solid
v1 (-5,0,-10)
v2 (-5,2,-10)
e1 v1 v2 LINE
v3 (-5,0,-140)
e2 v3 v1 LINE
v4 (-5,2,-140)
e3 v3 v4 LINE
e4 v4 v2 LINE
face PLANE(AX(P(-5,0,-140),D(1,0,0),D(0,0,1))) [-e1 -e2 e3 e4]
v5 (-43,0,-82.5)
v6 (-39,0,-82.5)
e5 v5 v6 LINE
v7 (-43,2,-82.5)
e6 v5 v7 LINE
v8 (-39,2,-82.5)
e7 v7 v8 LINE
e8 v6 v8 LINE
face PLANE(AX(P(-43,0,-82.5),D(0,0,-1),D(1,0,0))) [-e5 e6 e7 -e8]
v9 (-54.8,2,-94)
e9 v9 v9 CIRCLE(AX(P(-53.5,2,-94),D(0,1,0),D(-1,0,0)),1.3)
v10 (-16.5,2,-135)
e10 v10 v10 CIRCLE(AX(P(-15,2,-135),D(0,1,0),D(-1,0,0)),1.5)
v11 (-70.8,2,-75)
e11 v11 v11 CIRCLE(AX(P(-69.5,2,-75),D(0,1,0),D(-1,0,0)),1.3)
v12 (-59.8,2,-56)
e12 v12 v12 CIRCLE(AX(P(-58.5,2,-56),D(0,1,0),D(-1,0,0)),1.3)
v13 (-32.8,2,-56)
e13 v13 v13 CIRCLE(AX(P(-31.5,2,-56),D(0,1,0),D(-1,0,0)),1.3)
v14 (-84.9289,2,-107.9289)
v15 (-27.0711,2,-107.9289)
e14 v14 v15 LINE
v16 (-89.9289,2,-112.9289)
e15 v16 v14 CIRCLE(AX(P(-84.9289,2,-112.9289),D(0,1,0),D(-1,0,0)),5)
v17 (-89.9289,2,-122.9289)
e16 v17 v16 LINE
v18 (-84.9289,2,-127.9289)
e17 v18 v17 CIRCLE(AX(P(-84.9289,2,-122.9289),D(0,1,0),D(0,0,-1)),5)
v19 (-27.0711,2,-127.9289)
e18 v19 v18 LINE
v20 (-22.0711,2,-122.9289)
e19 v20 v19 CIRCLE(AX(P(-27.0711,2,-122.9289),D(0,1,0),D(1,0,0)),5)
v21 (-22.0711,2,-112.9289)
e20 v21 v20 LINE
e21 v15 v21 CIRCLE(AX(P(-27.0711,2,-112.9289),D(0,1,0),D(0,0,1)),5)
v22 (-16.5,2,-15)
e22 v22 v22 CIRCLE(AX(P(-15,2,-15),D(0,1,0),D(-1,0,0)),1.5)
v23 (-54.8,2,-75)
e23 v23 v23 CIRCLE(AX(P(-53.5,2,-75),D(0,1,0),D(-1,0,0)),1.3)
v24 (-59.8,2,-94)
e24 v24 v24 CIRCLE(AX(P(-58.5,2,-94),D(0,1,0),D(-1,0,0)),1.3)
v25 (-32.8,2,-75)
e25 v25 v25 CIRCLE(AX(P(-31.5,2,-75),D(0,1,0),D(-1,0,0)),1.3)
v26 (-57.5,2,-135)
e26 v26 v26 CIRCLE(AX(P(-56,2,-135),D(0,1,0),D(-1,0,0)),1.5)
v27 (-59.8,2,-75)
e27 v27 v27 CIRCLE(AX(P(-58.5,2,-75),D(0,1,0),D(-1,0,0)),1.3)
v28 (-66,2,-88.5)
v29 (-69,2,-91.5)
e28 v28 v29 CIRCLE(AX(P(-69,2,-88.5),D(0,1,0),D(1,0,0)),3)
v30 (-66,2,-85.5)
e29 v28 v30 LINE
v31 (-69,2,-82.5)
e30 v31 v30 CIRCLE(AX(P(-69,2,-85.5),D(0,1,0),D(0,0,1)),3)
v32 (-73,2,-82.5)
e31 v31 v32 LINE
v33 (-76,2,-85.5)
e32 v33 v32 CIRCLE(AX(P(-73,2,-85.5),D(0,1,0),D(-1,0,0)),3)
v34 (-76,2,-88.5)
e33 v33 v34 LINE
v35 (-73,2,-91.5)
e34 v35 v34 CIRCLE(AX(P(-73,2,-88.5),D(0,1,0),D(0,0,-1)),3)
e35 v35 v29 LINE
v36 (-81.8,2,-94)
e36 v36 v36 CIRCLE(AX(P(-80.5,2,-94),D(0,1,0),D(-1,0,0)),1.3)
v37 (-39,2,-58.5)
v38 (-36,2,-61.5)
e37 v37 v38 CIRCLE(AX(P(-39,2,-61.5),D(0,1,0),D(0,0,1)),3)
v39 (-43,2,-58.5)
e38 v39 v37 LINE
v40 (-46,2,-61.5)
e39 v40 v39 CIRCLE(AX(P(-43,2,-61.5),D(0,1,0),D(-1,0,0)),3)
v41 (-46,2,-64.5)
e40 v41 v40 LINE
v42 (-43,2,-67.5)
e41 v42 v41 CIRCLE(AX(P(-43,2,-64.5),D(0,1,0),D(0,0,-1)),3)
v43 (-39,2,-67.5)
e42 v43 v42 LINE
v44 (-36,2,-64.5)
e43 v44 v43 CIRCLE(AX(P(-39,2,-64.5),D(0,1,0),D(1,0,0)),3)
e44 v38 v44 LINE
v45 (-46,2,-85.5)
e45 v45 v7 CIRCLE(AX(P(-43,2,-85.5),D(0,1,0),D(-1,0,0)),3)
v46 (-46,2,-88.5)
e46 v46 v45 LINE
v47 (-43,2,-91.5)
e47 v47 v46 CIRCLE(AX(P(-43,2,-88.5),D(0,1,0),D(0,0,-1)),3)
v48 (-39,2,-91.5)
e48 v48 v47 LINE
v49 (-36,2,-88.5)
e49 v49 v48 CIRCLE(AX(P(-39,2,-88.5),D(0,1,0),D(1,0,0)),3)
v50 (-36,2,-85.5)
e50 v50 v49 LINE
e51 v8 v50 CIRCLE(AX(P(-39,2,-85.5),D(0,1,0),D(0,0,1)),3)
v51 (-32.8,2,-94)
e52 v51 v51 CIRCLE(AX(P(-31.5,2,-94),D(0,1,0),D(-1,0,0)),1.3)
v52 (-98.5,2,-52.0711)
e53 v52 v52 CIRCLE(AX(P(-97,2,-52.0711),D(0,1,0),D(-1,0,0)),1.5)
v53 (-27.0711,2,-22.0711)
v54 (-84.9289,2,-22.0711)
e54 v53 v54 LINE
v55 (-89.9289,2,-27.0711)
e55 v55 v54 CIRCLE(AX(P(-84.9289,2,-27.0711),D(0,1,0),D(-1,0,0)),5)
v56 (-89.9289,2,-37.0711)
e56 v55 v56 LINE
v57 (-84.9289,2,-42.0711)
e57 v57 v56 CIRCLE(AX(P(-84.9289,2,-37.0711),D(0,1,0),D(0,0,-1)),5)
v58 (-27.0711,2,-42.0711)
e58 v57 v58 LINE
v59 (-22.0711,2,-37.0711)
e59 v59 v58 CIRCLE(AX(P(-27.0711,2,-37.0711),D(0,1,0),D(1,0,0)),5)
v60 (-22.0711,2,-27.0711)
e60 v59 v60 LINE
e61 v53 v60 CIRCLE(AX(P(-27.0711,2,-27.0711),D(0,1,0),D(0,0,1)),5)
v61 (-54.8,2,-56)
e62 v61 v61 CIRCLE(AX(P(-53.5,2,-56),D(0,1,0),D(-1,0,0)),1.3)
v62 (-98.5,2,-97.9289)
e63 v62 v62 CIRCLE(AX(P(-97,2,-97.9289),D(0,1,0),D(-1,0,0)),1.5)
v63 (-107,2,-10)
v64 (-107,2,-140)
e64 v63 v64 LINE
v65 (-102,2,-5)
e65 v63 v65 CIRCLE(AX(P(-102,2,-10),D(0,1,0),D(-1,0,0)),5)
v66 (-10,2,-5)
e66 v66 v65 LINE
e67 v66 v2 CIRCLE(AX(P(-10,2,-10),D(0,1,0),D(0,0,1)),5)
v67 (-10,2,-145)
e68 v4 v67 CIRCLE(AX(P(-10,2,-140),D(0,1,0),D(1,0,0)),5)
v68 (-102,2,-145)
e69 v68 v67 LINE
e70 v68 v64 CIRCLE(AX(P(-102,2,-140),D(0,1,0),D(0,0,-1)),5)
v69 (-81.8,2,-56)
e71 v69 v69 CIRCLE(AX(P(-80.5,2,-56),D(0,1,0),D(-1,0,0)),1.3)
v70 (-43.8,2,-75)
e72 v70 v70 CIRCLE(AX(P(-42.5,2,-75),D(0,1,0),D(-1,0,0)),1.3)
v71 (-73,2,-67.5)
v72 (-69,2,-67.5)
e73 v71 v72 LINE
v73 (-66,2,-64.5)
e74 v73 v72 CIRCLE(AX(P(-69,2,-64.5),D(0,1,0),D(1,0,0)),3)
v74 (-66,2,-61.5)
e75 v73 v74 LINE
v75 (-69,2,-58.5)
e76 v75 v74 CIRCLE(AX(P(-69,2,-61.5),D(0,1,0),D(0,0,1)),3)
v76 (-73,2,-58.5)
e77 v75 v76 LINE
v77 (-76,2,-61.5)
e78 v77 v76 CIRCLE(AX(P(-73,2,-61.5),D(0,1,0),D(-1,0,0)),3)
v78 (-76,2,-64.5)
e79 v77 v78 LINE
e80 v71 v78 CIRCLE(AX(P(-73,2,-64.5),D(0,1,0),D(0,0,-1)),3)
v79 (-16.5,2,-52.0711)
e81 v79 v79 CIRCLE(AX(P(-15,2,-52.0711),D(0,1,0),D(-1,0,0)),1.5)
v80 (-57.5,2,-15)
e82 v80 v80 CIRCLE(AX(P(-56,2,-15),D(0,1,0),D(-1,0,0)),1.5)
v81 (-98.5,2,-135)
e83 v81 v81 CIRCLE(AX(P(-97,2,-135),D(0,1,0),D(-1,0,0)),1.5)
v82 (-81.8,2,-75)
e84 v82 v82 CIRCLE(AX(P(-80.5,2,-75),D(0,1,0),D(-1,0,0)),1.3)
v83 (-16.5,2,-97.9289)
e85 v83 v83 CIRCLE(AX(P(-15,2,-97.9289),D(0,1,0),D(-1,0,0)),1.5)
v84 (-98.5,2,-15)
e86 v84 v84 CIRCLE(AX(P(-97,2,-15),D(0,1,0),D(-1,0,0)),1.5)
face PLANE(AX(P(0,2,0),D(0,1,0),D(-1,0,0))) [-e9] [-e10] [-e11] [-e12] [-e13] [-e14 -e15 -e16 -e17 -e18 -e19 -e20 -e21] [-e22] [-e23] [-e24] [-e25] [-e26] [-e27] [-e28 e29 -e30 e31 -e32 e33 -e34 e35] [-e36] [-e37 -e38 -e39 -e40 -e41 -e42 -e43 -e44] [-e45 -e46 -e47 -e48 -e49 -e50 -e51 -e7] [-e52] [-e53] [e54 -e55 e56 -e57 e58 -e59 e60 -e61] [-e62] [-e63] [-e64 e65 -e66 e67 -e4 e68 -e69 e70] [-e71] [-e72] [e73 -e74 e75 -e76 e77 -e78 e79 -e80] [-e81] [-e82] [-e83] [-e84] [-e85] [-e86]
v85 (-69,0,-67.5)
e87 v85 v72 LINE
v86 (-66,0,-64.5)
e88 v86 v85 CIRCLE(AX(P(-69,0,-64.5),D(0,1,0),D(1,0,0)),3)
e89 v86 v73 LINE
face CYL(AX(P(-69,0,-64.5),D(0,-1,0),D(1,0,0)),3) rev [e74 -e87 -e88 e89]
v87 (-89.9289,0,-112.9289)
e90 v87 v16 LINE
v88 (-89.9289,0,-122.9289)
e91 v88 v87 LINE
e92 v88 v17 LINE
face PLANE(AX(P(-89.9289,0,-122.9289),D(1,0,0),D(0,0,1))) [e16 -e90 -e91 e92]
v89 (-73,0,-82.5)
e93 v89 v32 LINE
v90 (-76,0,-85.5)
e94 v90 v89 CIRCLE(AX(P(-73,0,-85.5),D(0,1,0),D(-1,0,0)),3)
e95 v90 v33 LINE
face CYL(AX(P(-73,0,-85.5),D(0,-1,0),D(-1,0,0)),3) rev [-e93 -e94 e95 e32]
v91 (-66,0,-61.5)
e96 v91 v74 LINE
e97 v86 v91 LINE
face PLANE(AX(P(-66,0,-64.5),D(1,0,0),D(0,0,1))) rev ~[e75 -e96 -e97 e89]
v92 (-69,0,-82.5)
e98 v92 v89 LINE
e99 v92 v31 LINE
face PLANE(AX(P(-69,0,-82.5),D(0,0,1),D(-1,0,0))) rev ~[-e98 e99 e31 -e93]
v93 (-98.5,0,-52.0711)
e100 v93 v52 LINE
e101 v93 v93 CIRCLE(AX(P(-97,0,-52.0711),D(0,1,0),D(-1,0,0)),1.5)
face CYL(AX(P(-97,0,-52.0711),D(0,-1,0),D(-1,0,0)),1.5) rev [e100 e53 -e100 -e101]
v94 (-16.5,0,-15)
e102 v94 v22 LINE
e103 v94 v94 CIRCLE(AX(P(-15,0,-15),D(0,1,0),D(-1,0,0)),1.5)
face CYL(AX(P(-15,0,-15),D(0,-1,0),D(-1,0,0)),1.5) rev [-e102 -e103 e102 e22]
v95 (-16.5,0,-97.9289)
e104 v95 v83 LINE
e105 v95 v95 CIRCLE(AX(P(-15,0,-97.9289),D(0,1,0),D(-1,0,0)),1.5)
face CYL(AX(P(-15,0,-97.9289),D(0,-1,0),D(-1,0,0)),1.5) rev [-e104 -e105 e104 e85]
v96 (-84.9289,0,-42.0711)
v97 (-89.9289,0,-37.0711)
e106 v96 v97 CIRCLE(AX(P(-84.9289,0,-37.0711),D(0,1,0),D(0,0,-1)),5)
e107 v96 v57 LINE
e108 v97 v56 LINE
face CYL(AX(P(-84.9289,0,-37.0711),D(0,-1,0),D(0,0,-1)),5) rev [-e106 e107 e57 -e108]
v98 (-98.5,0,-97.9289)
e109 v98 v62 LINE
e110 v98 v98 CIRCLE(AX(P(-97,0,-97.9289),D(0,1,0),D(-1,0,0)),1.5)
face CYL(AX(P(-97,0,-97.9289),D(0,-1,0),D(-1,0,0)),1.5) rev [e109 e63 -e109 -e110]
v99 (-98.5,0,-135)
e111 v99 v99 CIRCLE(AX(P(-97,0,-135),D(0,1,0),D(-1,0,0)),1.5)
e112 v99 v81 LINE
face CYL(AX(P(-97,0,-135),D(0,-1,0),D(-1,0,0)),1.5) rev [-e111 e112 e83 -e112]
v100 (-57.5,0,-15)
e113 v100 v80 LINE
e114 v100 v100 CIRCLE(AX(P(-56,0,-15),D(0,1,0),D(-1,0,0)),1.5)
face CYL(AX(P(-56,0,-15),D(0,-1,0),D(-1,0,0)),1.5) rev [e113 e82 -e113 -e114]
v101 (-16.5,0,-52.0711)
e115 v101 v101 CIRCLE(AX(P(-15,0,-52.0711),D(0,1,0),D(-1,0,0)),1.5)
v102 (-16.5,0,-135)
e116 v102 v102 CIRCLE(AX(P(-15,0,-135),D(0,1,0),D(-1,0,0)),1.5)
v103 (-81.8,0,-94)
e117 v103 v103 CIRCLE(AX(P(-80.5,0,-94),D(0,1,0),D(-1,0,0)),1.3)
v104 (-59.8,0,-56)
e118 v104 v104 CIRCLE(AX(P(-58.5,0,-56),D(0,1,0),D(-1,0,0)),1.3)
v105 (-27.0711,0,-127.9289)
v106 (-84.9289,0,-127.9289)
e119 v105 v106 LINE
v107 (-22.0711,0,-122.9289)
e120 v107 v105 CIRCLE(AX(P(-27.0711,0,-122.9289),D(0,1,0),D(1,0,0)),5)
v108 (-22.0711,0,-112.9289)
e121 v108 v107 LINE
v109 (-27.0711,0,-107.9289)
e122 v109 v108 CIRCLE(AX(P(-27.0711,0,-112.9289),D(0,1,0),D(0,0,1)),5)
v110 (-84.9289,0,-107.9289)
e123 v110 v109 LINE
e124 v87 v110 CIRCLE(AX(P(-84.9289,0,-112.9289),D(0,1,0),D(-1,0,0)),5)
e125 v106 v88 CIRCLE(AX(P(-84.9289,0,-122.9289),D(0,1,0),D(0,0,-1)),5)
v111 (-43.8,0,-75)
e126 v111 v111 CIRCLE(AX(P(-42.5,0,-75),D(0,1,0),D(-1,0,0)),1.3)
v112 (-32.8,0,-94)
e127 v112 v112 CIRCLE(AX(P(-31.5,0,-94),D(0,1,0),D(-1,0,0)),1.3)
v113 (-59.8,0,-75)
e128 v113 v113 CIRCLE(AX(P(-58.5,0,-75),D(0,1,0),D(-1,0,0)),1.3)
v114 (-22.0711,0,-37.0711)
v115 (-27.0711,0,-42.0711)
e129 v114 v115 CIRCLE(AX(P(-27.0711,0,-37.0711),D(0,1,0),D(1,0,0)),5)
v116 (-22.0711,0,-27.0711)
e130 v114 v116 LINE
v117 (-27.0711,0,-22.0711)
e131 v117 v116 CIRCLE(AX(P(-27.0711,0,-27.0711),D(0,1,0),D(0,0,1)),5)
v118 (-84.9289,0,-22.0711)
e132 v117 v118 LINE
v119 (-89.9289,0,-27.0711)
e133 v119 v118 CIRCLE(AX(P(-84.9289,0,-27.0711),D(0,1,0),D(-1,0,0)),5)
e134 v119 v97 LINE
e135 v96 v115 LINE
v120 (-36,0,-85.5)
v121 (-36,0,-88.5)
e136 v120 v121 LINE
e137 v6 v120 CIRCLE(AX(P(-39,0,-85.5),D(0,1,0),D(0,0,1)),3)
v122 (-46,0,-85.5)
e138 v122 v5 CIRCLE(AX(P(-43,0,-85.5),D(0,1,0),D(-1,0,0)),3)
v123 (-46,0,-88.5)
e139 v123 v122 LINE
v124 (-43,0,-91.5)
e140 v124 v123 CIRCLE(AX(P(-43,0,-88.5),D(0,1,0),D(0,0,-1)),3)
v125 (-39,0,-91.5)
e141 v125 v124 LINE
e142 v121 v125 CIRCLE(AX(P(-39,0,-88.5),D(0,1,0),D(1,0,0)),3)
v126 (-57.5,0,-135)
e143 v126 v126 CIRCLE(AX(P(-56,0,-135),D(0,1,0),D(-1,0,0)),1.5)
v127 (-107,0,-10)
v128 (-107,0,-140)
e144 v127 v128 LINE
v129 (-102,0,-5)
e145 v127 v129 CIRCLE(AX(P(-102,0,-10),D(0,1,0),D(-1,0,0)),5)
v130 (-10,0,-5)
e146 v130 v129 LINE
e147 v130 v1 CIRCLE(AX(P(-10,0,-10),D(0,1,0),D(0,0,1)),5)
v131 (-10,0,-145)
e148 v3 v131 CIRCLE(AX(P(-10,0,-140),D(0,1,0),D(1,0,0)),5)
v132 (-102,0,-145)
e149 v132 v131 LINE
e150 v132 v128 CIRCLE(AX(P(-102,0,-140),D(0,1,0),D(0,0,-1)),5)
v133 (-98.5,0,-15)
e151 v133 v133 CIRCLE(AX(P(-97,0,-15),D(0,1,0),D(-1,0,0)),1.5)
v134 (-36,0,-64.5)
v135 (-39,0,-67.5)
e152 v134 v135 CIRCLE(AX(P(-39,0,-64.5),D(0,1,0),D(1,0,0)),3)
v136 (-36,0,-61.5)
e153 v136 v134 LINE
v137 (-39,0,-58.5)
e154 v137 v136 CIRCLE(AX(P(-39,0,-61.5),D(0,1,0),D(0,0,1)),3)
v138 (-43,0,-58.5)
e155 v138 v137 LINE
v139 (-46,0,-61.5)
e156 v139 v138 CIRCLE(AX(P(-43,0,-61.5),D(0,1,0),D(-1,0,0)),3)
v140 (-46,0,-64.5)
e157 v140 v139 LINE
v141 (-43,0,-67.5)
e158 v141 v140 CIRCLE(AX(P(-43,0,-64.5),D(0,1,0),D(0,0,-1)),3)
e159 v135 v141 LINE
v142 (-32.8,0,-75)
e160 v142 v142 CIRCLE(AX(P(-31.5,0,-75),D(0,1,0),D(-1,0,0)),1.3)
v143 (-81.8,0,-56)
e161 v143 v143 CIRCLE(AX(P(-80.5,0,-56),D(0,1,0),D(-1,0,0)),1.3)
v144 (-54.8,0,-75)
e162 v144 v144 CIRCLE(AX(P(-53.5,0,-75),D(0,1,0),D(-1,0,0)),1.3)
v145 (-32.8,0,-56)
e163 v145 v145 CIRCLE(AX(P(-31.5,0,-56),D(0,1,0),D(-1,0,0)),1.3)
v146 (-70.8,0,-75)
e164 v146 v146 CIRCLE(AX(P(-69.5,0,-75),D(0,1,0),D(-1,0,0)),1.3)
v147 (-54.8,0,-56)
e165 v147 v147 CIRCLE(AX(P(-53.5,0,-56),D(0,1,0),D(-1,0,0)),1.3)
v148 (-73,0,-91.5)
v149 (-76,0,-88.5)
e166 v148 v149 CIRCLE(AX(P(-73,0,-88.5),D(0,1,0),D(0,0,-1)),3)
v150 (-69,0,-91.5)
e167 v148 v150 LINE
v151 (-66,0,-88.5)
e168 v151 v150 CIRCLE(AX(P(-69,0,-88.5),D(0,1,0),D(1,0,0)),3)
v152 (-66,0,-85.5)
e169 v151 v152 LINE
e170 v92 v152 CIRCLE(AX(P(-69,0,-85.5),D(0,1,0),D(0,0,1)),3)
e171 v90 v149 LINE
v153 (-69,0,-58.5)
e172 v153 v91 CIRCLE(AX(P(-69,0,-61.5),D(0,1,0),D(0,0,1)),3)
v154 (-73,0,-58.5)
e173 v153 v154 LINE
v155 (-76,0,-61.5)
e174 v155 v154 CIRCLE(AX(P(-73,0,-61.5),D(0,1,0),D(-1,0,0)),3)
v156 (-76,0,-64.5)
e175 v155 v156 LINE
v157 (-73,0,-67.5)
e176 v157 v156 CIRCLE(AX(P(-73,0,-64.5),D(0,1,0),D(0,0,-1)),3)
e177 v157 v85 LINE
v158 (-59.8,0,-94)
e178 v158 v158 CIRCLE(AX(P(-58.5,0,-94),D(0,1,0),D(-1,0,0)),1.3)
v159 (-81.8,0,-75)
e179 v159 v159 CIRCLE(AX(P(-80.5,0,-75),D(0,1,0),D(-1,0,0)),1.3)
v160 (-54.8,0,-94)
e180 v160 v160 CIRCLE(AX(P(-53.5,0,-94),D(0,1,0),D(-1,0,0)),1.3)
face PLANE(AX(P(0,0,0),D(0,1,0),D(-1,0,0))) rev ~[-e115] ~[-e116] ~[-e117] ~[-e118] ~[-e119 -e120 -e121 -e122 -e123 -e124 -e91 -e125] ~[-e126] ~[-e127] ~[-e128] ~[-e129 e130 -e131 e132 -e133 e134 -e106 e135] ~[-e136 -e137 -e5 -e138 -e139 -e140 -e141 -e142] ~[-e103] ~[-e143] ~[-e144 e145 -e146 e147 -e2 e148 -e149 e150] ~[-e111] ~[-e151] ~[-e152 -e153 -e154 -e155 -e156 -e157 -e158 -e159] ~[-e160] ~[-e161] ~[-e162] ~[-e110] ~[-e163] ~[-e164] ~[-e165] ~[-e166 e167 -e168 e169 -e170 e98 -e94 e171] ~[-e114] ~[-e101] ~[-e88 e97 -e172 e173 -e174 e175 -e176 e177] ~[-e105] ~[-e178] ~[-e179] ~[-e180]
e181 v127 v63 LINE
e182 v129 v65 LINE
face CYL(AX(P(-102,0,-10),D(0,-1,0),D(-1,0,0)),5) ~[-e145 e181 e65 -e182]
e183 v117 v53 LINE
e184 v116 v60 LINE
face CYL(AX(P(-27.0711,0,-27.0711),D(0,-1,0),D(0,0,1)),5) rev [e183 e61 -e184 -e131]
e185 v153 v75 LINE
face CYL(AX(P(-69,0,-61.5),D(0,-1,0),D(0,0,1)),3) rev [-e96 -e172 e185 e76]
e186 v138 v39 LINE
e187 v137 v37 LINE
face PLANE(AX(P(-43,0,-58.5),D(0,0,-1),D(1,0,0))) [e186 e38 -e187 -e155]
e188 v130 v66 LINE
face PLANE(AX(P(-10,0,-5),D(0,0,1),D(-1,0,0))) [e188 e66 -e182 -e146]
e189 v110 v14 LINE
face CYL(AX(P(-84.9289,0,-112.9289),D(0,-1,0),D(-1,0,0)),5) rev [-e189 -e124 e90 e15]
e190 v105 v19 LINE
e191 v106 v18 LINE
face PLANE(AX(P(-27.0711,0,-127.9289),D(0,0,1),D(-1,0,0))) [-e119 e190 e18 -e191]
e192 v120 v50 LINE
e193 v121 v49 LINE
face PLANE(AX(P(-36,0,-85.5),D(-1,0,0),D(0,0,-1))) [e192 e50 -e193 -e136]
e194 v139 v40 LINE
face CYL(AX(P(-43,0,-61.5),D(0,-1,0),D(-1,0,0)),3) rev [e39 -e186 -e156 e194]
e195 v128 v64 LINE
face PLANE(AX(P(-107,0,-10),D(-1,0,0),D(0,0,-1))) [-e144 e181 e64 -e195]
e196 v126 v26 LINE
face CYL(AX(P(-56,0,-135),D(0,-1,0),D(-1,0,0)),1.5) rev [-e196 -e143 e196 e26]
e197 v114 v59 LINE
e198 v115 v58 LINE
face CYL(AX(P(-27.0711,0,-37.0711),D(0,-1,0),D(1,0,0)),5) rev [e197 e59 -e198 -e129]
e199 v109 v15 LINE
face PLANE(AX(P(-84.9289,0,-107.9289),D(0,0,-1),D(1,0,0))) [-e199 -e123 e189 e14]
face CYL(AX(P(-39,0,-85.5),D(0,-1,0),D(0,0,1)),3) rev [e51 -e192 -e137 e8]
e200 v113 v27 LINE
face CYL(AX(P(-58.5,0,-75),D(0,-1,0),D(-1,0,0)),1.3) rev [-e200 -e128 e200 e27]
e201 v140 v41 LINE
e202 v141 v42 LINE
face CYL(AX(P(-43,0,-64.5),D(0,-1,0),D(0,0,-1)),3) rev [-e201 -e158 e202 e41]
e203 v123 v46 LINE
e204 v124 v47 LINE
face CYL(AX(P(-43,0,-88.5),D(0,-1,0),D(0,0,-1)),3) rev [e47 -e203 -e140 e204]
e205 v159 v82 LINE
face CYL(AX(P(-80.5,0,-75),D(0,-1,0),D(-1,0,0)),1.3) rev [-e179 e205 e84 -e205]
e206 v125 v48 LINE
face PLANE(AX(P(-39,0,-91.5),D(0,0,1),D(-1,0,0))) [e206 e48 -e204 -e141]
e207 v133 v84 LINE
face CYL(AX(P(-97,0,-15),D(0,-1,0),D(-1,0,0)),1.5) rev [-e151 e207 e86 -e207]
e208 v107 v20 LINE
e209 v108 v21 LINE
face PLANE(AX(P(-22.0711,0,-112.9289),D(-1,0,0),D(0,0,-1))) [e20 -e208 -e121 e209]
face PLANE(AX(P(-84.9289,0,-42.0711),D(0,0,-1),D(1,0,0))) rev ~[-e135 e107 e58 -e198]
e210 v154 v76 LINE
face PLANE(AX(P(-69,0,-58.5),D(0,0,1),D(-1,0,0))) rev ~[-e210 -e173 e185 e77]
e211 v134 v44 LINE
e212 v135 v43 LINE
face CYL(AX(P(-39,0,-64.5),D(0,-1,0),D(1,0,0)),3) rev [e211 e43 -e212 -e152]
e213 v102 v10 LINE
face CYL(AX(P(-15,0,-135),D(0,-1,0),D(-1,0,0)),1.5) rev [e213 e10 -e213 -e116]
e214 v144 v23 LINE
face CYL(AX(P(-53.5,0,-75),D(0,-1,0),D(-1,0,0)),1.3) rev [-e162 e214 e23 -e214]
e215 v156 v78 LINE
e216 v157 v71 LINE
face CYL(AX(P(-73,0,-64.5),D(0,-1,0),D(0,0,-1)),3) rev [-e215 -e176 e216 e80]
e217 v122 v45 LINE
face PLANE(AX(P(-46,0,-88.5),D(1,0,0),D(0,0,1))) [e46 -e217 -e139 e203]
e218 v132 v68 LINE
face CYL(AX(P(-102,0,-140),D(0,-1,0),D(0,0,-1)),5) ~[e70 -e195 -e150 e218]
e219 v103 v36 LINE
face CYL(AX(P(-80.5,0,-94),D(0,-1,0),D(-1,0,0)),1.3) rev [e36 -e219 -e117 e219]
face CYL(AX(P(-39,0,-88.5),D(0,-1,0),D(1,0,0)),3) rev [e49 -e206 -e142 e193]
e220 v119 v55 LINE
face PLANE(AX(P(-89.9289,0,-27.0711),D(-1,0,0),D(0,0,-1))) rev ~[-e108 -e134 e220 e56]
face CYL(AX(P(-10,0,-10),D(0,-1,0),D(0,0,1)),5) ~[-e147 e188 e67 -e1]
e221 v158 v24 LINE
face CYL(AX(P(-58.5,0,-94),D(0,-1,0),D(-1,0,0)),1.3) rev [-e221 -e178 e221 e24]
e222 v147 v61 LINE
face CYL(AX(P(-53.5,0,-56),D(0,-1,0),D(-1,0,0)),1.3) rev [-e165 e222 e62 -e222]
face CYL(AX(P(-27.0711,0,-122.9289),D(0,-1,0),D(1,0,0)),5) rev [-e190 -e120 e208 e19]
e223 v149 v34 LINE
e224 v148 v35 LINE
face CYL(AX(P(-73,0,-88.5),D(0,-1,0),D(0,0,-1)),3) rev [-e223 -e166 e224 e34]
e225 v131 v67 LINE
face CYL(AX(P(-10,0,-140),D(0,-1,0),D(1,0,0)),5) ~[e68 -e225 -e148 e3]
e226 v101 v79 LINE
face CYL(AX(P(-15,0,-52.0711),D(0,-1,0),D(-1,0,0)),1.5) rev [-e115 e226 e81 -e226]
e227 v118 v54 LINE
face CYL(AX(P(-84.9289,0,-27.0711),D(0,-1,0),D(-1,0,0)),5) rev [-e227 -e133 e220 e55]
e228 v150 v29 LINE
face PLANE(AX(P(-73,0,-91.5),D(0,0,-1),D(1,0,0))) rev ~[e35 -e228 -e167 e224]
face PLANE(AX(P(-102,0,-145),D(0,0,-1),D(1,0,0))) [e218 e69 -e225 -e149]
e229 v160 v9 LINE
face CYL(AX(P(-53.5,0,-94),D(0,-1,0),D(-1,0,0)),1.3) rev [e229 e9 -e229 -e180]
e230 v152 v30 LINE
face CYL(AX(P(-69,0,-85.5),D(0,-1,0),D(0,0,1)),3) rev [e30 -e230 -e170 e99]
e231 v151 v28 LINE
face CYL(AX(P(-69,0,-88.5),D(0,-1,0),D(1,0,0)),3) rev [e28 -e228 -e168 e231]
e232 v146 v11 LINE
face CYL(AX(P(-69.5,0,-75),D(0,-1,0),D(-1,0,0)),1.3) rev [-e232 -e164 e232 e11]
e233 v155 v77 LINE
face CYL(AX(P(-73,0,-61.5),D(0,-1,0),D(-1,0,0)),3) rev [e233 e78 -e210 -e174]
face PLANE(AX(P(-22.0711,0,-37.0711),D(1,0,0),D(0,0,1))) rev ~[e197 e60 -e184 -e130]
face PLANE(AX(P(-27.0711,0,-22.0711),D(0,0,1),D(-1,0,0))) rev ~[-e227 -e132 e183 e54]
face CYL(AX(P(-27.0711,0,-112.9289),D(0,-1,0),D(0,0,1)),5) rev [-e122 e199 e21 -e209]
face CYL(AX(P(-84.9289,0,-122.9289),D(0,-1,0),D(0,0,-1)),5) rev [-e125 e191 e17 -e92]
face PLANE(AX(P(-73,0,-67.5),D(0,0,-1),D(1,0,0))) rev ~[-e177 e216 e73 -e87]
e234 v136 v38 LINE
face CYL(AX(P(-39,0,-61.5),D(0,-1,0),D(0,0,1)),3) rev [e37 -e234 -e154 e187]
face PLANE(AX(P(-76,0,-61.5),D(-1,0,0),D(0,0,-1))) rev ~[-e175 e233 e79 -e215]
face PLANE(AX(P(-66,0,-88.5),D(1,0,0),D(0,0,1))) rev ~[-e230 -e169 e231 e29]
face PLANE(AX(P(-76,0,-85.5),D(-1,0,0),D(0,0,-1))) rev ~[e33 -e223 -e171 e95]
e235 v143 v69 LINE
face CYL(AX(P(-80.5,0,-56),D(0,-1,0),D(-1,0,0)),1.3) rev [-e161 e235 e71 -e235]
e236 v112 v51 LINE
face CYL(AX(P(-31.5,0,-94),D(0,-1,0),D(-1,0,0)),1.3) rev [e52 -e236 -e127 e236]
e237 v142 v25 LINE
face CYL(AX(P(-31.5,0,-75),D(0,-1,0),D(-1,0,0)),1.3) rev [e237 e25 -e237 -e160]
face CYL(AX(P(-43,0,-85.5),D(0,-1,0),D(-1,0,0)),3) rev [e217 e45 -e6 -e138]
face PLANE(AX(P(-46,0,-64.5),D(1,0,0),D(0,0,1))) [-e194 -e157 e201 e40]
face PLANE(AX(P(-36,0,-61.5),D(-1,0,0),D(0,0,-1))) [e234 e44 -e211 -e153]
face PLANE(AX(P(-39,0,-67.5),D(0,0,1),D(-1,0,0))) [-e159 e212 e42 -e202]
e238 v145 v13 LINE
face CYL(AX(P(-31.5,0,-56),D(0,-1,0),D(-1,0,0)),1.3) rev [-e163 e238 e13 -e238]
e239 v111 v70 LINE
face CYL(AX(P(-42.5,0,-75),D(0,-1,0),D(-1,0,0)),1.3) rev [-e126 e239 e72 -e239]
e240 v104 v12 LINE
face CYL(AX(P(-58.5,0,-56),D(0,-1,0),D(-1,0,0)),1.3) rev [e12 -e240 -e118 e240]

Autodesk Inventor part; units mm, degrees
ref_plane "YZ Plane" through (0, 0, 0) normal (1, 0, 0) x (0, 1, 0)
ref_plane "XZ Plane" through (0, 0, 0) normal (0, 1, 0) x (-1, 0, 0)
ref_plane "XY Plane" through (0, 0, 0) normal (0, 0, 1) x (1, 0, 0)
sketch "Sketch1" plane through (0, 0, 0) normal (0, 1, 0) x (-1, 0, 0)
  circle A0 centre (97, -135) radius 1.5
  circle A1 centre (97, -15) radius 1.5
  circle A2 centre (15, -135) radius 1.5
  circle A3 centre (15, -15) radius 1.5
  circle A4 centre (56, -135) radius 1.5
  circle A5 centre (56, -15) radius 1.5
  circle A6 centre (97, -97.9289) radius 1.5
  circle A7 centre (97, -52.0711) radius 1.5
  circle A8 centre (15, -97.9289) radius 1.5
  circle A9 centre (15, -52.0711) radius 1.5
  circle A10 centre (31.5, -94) radius 1.3
  circle A11 centre (53.5, -94) radius 1.3
  circle A12 centre (53.5, -56) radius 1.3
  circle A13 centre (31.5, -56) radius 1.3
  circle A14 centre (53.5, -75) radius 1.3
  circle A15 centre (31.5, -75) radius 1.3
  line L0 (84.9289, -42.0711) -> (27.0711, -42.0711)
  line L1 (22.0711, -37.0711) -> (22.0711, -27.0711)
  line L2 (27.0711, -22.0711) -> (84.9289, -22.0711)
  line L3 (89.9289, -27.0711) -> (89.9289, -37.0711)
  line L4 (27.0711, -127.9289) -> (84.9289, -127.9289)
  line L5 (89.9289, -122.9289) -> (89.9289, -112.9289)
  line L6 (84.9289, -107.9289) -> (27.0711, -107.9289)
  line L7 (22.0711, -112.9289) -> (22.0711, -122.9289)
  line L8 (39, -91.5) -> (43, -91.5)
  line L9 (46, -88.5) -> (46, -85.5)
  line L10 (43, -82.5) -> (39, -82.5)
  line L11 (36, -85.5) -> (36, -88.5)
  line L12 (43, -58.5) -> (39, -58.5)
  line L13 (36, -61.5) -> (36, -64.5)
  line L14 (39, -67.5) -> (43, -67.5)
  line L15 (46, -64.5) -> (46, -61.5)
  arc A16 (84.9289, -127.9289) -> (89.9289, -122.9289) centre (84.9289, -122.9289) ccw
  arc A17 (22.0711, -122.9289) -> (27.0711, -127.9289) centre (27.0711, -122.9289) ccw
  arc A18 (27.0711, -107.9289) -> (22.0711, -112.9289) centre (27.0711, -112.9289) ccw
  arc A19 (89.9289, -112.9289) -> (84.9289, -107.9289) centre (84.9289, -112.9289) ccw
  arc A20 (84.9289, -42.0711) -> (89.9289, -37.0711) centre (84.9289, -37.0711) ccw
  arc A21 (89.9289, -27.0711) -> (84.9289, -22.0711) centre (84.9289, -27.0711) ccw
  arc A22 (27.0711, -22.0711) -> (22.0711, -27.0711) centre (27.0711, -27.0711) ccw
  arc A23 (22.0711, -37.0711) -> (27.0711, -42.0711) centre (27.0711, -37.0711) ccw
  arc A24 (43, -91.5) -> (46, -88.5) centre (43, -88.5) ccw
  arc A25 (36, -88.5) -> (39, -91.5) centre (39, -88.5) ccw
  arc A26 (39, -82.5) -> (36, -85.5) centre (39, -85.5) ccw
  arc A27 (46, -85.5) -> (43, -82.5) centre (43, -85.5) ccw
  arc A28 (43, -67.5) -> (46, -64.5) centre (43, -64.5) ccw
  arc A29 (36, -64.5) -> (39, -67.5) centre (39, -64.5) ccw
  arc A30 (39, -58.5) -> (36, -61.5) centre (39, -61.5) ccw
  arc A31 (46, -61.5) -> (43, -58.5) centre (43, -61.5) ccw
  circle A32 centre (42.5, -75) radius 1.3
  circle A33 centre (80.5, -94) radius 1.3
  circle A34 centre (58.5, -94) radius 1.3
  circle A35 centre (58.5, -56) radius 1.3
  circle A36 centre (80.5, -56) radius 1.3
  circle A37 centre (58.5, -75) radius 1.3
  circle A38 centre (80.5, -75) radius 1.3
  line L16 (73, -91.5) -> (69, -91.5)
  line L17 (66, -88.5) -> (66, -85.5)
  line L18 (69, -82.5) -> (73, -82.5)
  line L19 (76, -85.5) -> (76, -88.5)
  line L20 (69, -58.5) -> (73, -58.5)
  line L21 (76, -61.5) -> (76, -64.5)
  line L22 (73, -67.5) -> (69, -67.5)
  line L23 (66, -64.5) -> (66, -61.5)
  arc A39 (66, -88.5) -> (69, -91.5) centre (69, -88.5) ccw
  arc A40 (73, -91.5) -> (76, -88.5) centre (73, -88.5) ccw
  arc A41 (76, -85.5) -> (73, -82.5) centre (73, -85.5) ccw
  arc A42 (69, -82.5) -> (66, -85.5) centre (69, -85.5) ccw
  arc A43 (66, -64.5) -> (69, -67.5) centre (69, -64.5) ccw
  arc A44 (73, -67.5) -> (76, -64.5) centre (73, -64.5) ccw
  arc A45 (76, -61.5) -> (73, -58.5) centre (73, -61.5) ccw
  arc A46 (69, -58.5) -> (66, -61.5) centre (69, -61.5) ccw
  circle A47 centre (69.5, -75) radius 1.3
  line L24 (10, -5) -> (102, -5)
  line L25 (107, -10) -> (107, -140)
  line L26 (102, -145) -> (10, -145)
  line L27 (5, -140) -> (5, -10)
  arc A48 (102, -145) -> (107, -140) centre (102, -140) ccw
  arc A49 (5, -140) -> (10, -145) centre (10, -140) ccw
  arc A50 (10, -5) -> (5, -10) centre (10, -10) ccw
  arc A51 (107, -10) -> (102, -5) centre (102, -10) ccw
  dimension "d24" = 3
  dimension "d25" = 3
  dimension "d26" = 3
  dimension "d27" = 3
  dimension "d28" = 3
  dimension "d29" = 3
  dimension "d30" = 3
  dimension "d32" = 3
  dimension "d47" = 5
  dimension "d48" = 5
  dimension "d59" = 5
  dimension "d60" = 10
  dimension "d61" = 10
  dimension "d67" = 2.6
  dimension "d71" = 140
  dimension "d72" = 102
extrude "Extrusion2" add sketch "Sketch1" along normal blind 2
properties part number "Telapak"
